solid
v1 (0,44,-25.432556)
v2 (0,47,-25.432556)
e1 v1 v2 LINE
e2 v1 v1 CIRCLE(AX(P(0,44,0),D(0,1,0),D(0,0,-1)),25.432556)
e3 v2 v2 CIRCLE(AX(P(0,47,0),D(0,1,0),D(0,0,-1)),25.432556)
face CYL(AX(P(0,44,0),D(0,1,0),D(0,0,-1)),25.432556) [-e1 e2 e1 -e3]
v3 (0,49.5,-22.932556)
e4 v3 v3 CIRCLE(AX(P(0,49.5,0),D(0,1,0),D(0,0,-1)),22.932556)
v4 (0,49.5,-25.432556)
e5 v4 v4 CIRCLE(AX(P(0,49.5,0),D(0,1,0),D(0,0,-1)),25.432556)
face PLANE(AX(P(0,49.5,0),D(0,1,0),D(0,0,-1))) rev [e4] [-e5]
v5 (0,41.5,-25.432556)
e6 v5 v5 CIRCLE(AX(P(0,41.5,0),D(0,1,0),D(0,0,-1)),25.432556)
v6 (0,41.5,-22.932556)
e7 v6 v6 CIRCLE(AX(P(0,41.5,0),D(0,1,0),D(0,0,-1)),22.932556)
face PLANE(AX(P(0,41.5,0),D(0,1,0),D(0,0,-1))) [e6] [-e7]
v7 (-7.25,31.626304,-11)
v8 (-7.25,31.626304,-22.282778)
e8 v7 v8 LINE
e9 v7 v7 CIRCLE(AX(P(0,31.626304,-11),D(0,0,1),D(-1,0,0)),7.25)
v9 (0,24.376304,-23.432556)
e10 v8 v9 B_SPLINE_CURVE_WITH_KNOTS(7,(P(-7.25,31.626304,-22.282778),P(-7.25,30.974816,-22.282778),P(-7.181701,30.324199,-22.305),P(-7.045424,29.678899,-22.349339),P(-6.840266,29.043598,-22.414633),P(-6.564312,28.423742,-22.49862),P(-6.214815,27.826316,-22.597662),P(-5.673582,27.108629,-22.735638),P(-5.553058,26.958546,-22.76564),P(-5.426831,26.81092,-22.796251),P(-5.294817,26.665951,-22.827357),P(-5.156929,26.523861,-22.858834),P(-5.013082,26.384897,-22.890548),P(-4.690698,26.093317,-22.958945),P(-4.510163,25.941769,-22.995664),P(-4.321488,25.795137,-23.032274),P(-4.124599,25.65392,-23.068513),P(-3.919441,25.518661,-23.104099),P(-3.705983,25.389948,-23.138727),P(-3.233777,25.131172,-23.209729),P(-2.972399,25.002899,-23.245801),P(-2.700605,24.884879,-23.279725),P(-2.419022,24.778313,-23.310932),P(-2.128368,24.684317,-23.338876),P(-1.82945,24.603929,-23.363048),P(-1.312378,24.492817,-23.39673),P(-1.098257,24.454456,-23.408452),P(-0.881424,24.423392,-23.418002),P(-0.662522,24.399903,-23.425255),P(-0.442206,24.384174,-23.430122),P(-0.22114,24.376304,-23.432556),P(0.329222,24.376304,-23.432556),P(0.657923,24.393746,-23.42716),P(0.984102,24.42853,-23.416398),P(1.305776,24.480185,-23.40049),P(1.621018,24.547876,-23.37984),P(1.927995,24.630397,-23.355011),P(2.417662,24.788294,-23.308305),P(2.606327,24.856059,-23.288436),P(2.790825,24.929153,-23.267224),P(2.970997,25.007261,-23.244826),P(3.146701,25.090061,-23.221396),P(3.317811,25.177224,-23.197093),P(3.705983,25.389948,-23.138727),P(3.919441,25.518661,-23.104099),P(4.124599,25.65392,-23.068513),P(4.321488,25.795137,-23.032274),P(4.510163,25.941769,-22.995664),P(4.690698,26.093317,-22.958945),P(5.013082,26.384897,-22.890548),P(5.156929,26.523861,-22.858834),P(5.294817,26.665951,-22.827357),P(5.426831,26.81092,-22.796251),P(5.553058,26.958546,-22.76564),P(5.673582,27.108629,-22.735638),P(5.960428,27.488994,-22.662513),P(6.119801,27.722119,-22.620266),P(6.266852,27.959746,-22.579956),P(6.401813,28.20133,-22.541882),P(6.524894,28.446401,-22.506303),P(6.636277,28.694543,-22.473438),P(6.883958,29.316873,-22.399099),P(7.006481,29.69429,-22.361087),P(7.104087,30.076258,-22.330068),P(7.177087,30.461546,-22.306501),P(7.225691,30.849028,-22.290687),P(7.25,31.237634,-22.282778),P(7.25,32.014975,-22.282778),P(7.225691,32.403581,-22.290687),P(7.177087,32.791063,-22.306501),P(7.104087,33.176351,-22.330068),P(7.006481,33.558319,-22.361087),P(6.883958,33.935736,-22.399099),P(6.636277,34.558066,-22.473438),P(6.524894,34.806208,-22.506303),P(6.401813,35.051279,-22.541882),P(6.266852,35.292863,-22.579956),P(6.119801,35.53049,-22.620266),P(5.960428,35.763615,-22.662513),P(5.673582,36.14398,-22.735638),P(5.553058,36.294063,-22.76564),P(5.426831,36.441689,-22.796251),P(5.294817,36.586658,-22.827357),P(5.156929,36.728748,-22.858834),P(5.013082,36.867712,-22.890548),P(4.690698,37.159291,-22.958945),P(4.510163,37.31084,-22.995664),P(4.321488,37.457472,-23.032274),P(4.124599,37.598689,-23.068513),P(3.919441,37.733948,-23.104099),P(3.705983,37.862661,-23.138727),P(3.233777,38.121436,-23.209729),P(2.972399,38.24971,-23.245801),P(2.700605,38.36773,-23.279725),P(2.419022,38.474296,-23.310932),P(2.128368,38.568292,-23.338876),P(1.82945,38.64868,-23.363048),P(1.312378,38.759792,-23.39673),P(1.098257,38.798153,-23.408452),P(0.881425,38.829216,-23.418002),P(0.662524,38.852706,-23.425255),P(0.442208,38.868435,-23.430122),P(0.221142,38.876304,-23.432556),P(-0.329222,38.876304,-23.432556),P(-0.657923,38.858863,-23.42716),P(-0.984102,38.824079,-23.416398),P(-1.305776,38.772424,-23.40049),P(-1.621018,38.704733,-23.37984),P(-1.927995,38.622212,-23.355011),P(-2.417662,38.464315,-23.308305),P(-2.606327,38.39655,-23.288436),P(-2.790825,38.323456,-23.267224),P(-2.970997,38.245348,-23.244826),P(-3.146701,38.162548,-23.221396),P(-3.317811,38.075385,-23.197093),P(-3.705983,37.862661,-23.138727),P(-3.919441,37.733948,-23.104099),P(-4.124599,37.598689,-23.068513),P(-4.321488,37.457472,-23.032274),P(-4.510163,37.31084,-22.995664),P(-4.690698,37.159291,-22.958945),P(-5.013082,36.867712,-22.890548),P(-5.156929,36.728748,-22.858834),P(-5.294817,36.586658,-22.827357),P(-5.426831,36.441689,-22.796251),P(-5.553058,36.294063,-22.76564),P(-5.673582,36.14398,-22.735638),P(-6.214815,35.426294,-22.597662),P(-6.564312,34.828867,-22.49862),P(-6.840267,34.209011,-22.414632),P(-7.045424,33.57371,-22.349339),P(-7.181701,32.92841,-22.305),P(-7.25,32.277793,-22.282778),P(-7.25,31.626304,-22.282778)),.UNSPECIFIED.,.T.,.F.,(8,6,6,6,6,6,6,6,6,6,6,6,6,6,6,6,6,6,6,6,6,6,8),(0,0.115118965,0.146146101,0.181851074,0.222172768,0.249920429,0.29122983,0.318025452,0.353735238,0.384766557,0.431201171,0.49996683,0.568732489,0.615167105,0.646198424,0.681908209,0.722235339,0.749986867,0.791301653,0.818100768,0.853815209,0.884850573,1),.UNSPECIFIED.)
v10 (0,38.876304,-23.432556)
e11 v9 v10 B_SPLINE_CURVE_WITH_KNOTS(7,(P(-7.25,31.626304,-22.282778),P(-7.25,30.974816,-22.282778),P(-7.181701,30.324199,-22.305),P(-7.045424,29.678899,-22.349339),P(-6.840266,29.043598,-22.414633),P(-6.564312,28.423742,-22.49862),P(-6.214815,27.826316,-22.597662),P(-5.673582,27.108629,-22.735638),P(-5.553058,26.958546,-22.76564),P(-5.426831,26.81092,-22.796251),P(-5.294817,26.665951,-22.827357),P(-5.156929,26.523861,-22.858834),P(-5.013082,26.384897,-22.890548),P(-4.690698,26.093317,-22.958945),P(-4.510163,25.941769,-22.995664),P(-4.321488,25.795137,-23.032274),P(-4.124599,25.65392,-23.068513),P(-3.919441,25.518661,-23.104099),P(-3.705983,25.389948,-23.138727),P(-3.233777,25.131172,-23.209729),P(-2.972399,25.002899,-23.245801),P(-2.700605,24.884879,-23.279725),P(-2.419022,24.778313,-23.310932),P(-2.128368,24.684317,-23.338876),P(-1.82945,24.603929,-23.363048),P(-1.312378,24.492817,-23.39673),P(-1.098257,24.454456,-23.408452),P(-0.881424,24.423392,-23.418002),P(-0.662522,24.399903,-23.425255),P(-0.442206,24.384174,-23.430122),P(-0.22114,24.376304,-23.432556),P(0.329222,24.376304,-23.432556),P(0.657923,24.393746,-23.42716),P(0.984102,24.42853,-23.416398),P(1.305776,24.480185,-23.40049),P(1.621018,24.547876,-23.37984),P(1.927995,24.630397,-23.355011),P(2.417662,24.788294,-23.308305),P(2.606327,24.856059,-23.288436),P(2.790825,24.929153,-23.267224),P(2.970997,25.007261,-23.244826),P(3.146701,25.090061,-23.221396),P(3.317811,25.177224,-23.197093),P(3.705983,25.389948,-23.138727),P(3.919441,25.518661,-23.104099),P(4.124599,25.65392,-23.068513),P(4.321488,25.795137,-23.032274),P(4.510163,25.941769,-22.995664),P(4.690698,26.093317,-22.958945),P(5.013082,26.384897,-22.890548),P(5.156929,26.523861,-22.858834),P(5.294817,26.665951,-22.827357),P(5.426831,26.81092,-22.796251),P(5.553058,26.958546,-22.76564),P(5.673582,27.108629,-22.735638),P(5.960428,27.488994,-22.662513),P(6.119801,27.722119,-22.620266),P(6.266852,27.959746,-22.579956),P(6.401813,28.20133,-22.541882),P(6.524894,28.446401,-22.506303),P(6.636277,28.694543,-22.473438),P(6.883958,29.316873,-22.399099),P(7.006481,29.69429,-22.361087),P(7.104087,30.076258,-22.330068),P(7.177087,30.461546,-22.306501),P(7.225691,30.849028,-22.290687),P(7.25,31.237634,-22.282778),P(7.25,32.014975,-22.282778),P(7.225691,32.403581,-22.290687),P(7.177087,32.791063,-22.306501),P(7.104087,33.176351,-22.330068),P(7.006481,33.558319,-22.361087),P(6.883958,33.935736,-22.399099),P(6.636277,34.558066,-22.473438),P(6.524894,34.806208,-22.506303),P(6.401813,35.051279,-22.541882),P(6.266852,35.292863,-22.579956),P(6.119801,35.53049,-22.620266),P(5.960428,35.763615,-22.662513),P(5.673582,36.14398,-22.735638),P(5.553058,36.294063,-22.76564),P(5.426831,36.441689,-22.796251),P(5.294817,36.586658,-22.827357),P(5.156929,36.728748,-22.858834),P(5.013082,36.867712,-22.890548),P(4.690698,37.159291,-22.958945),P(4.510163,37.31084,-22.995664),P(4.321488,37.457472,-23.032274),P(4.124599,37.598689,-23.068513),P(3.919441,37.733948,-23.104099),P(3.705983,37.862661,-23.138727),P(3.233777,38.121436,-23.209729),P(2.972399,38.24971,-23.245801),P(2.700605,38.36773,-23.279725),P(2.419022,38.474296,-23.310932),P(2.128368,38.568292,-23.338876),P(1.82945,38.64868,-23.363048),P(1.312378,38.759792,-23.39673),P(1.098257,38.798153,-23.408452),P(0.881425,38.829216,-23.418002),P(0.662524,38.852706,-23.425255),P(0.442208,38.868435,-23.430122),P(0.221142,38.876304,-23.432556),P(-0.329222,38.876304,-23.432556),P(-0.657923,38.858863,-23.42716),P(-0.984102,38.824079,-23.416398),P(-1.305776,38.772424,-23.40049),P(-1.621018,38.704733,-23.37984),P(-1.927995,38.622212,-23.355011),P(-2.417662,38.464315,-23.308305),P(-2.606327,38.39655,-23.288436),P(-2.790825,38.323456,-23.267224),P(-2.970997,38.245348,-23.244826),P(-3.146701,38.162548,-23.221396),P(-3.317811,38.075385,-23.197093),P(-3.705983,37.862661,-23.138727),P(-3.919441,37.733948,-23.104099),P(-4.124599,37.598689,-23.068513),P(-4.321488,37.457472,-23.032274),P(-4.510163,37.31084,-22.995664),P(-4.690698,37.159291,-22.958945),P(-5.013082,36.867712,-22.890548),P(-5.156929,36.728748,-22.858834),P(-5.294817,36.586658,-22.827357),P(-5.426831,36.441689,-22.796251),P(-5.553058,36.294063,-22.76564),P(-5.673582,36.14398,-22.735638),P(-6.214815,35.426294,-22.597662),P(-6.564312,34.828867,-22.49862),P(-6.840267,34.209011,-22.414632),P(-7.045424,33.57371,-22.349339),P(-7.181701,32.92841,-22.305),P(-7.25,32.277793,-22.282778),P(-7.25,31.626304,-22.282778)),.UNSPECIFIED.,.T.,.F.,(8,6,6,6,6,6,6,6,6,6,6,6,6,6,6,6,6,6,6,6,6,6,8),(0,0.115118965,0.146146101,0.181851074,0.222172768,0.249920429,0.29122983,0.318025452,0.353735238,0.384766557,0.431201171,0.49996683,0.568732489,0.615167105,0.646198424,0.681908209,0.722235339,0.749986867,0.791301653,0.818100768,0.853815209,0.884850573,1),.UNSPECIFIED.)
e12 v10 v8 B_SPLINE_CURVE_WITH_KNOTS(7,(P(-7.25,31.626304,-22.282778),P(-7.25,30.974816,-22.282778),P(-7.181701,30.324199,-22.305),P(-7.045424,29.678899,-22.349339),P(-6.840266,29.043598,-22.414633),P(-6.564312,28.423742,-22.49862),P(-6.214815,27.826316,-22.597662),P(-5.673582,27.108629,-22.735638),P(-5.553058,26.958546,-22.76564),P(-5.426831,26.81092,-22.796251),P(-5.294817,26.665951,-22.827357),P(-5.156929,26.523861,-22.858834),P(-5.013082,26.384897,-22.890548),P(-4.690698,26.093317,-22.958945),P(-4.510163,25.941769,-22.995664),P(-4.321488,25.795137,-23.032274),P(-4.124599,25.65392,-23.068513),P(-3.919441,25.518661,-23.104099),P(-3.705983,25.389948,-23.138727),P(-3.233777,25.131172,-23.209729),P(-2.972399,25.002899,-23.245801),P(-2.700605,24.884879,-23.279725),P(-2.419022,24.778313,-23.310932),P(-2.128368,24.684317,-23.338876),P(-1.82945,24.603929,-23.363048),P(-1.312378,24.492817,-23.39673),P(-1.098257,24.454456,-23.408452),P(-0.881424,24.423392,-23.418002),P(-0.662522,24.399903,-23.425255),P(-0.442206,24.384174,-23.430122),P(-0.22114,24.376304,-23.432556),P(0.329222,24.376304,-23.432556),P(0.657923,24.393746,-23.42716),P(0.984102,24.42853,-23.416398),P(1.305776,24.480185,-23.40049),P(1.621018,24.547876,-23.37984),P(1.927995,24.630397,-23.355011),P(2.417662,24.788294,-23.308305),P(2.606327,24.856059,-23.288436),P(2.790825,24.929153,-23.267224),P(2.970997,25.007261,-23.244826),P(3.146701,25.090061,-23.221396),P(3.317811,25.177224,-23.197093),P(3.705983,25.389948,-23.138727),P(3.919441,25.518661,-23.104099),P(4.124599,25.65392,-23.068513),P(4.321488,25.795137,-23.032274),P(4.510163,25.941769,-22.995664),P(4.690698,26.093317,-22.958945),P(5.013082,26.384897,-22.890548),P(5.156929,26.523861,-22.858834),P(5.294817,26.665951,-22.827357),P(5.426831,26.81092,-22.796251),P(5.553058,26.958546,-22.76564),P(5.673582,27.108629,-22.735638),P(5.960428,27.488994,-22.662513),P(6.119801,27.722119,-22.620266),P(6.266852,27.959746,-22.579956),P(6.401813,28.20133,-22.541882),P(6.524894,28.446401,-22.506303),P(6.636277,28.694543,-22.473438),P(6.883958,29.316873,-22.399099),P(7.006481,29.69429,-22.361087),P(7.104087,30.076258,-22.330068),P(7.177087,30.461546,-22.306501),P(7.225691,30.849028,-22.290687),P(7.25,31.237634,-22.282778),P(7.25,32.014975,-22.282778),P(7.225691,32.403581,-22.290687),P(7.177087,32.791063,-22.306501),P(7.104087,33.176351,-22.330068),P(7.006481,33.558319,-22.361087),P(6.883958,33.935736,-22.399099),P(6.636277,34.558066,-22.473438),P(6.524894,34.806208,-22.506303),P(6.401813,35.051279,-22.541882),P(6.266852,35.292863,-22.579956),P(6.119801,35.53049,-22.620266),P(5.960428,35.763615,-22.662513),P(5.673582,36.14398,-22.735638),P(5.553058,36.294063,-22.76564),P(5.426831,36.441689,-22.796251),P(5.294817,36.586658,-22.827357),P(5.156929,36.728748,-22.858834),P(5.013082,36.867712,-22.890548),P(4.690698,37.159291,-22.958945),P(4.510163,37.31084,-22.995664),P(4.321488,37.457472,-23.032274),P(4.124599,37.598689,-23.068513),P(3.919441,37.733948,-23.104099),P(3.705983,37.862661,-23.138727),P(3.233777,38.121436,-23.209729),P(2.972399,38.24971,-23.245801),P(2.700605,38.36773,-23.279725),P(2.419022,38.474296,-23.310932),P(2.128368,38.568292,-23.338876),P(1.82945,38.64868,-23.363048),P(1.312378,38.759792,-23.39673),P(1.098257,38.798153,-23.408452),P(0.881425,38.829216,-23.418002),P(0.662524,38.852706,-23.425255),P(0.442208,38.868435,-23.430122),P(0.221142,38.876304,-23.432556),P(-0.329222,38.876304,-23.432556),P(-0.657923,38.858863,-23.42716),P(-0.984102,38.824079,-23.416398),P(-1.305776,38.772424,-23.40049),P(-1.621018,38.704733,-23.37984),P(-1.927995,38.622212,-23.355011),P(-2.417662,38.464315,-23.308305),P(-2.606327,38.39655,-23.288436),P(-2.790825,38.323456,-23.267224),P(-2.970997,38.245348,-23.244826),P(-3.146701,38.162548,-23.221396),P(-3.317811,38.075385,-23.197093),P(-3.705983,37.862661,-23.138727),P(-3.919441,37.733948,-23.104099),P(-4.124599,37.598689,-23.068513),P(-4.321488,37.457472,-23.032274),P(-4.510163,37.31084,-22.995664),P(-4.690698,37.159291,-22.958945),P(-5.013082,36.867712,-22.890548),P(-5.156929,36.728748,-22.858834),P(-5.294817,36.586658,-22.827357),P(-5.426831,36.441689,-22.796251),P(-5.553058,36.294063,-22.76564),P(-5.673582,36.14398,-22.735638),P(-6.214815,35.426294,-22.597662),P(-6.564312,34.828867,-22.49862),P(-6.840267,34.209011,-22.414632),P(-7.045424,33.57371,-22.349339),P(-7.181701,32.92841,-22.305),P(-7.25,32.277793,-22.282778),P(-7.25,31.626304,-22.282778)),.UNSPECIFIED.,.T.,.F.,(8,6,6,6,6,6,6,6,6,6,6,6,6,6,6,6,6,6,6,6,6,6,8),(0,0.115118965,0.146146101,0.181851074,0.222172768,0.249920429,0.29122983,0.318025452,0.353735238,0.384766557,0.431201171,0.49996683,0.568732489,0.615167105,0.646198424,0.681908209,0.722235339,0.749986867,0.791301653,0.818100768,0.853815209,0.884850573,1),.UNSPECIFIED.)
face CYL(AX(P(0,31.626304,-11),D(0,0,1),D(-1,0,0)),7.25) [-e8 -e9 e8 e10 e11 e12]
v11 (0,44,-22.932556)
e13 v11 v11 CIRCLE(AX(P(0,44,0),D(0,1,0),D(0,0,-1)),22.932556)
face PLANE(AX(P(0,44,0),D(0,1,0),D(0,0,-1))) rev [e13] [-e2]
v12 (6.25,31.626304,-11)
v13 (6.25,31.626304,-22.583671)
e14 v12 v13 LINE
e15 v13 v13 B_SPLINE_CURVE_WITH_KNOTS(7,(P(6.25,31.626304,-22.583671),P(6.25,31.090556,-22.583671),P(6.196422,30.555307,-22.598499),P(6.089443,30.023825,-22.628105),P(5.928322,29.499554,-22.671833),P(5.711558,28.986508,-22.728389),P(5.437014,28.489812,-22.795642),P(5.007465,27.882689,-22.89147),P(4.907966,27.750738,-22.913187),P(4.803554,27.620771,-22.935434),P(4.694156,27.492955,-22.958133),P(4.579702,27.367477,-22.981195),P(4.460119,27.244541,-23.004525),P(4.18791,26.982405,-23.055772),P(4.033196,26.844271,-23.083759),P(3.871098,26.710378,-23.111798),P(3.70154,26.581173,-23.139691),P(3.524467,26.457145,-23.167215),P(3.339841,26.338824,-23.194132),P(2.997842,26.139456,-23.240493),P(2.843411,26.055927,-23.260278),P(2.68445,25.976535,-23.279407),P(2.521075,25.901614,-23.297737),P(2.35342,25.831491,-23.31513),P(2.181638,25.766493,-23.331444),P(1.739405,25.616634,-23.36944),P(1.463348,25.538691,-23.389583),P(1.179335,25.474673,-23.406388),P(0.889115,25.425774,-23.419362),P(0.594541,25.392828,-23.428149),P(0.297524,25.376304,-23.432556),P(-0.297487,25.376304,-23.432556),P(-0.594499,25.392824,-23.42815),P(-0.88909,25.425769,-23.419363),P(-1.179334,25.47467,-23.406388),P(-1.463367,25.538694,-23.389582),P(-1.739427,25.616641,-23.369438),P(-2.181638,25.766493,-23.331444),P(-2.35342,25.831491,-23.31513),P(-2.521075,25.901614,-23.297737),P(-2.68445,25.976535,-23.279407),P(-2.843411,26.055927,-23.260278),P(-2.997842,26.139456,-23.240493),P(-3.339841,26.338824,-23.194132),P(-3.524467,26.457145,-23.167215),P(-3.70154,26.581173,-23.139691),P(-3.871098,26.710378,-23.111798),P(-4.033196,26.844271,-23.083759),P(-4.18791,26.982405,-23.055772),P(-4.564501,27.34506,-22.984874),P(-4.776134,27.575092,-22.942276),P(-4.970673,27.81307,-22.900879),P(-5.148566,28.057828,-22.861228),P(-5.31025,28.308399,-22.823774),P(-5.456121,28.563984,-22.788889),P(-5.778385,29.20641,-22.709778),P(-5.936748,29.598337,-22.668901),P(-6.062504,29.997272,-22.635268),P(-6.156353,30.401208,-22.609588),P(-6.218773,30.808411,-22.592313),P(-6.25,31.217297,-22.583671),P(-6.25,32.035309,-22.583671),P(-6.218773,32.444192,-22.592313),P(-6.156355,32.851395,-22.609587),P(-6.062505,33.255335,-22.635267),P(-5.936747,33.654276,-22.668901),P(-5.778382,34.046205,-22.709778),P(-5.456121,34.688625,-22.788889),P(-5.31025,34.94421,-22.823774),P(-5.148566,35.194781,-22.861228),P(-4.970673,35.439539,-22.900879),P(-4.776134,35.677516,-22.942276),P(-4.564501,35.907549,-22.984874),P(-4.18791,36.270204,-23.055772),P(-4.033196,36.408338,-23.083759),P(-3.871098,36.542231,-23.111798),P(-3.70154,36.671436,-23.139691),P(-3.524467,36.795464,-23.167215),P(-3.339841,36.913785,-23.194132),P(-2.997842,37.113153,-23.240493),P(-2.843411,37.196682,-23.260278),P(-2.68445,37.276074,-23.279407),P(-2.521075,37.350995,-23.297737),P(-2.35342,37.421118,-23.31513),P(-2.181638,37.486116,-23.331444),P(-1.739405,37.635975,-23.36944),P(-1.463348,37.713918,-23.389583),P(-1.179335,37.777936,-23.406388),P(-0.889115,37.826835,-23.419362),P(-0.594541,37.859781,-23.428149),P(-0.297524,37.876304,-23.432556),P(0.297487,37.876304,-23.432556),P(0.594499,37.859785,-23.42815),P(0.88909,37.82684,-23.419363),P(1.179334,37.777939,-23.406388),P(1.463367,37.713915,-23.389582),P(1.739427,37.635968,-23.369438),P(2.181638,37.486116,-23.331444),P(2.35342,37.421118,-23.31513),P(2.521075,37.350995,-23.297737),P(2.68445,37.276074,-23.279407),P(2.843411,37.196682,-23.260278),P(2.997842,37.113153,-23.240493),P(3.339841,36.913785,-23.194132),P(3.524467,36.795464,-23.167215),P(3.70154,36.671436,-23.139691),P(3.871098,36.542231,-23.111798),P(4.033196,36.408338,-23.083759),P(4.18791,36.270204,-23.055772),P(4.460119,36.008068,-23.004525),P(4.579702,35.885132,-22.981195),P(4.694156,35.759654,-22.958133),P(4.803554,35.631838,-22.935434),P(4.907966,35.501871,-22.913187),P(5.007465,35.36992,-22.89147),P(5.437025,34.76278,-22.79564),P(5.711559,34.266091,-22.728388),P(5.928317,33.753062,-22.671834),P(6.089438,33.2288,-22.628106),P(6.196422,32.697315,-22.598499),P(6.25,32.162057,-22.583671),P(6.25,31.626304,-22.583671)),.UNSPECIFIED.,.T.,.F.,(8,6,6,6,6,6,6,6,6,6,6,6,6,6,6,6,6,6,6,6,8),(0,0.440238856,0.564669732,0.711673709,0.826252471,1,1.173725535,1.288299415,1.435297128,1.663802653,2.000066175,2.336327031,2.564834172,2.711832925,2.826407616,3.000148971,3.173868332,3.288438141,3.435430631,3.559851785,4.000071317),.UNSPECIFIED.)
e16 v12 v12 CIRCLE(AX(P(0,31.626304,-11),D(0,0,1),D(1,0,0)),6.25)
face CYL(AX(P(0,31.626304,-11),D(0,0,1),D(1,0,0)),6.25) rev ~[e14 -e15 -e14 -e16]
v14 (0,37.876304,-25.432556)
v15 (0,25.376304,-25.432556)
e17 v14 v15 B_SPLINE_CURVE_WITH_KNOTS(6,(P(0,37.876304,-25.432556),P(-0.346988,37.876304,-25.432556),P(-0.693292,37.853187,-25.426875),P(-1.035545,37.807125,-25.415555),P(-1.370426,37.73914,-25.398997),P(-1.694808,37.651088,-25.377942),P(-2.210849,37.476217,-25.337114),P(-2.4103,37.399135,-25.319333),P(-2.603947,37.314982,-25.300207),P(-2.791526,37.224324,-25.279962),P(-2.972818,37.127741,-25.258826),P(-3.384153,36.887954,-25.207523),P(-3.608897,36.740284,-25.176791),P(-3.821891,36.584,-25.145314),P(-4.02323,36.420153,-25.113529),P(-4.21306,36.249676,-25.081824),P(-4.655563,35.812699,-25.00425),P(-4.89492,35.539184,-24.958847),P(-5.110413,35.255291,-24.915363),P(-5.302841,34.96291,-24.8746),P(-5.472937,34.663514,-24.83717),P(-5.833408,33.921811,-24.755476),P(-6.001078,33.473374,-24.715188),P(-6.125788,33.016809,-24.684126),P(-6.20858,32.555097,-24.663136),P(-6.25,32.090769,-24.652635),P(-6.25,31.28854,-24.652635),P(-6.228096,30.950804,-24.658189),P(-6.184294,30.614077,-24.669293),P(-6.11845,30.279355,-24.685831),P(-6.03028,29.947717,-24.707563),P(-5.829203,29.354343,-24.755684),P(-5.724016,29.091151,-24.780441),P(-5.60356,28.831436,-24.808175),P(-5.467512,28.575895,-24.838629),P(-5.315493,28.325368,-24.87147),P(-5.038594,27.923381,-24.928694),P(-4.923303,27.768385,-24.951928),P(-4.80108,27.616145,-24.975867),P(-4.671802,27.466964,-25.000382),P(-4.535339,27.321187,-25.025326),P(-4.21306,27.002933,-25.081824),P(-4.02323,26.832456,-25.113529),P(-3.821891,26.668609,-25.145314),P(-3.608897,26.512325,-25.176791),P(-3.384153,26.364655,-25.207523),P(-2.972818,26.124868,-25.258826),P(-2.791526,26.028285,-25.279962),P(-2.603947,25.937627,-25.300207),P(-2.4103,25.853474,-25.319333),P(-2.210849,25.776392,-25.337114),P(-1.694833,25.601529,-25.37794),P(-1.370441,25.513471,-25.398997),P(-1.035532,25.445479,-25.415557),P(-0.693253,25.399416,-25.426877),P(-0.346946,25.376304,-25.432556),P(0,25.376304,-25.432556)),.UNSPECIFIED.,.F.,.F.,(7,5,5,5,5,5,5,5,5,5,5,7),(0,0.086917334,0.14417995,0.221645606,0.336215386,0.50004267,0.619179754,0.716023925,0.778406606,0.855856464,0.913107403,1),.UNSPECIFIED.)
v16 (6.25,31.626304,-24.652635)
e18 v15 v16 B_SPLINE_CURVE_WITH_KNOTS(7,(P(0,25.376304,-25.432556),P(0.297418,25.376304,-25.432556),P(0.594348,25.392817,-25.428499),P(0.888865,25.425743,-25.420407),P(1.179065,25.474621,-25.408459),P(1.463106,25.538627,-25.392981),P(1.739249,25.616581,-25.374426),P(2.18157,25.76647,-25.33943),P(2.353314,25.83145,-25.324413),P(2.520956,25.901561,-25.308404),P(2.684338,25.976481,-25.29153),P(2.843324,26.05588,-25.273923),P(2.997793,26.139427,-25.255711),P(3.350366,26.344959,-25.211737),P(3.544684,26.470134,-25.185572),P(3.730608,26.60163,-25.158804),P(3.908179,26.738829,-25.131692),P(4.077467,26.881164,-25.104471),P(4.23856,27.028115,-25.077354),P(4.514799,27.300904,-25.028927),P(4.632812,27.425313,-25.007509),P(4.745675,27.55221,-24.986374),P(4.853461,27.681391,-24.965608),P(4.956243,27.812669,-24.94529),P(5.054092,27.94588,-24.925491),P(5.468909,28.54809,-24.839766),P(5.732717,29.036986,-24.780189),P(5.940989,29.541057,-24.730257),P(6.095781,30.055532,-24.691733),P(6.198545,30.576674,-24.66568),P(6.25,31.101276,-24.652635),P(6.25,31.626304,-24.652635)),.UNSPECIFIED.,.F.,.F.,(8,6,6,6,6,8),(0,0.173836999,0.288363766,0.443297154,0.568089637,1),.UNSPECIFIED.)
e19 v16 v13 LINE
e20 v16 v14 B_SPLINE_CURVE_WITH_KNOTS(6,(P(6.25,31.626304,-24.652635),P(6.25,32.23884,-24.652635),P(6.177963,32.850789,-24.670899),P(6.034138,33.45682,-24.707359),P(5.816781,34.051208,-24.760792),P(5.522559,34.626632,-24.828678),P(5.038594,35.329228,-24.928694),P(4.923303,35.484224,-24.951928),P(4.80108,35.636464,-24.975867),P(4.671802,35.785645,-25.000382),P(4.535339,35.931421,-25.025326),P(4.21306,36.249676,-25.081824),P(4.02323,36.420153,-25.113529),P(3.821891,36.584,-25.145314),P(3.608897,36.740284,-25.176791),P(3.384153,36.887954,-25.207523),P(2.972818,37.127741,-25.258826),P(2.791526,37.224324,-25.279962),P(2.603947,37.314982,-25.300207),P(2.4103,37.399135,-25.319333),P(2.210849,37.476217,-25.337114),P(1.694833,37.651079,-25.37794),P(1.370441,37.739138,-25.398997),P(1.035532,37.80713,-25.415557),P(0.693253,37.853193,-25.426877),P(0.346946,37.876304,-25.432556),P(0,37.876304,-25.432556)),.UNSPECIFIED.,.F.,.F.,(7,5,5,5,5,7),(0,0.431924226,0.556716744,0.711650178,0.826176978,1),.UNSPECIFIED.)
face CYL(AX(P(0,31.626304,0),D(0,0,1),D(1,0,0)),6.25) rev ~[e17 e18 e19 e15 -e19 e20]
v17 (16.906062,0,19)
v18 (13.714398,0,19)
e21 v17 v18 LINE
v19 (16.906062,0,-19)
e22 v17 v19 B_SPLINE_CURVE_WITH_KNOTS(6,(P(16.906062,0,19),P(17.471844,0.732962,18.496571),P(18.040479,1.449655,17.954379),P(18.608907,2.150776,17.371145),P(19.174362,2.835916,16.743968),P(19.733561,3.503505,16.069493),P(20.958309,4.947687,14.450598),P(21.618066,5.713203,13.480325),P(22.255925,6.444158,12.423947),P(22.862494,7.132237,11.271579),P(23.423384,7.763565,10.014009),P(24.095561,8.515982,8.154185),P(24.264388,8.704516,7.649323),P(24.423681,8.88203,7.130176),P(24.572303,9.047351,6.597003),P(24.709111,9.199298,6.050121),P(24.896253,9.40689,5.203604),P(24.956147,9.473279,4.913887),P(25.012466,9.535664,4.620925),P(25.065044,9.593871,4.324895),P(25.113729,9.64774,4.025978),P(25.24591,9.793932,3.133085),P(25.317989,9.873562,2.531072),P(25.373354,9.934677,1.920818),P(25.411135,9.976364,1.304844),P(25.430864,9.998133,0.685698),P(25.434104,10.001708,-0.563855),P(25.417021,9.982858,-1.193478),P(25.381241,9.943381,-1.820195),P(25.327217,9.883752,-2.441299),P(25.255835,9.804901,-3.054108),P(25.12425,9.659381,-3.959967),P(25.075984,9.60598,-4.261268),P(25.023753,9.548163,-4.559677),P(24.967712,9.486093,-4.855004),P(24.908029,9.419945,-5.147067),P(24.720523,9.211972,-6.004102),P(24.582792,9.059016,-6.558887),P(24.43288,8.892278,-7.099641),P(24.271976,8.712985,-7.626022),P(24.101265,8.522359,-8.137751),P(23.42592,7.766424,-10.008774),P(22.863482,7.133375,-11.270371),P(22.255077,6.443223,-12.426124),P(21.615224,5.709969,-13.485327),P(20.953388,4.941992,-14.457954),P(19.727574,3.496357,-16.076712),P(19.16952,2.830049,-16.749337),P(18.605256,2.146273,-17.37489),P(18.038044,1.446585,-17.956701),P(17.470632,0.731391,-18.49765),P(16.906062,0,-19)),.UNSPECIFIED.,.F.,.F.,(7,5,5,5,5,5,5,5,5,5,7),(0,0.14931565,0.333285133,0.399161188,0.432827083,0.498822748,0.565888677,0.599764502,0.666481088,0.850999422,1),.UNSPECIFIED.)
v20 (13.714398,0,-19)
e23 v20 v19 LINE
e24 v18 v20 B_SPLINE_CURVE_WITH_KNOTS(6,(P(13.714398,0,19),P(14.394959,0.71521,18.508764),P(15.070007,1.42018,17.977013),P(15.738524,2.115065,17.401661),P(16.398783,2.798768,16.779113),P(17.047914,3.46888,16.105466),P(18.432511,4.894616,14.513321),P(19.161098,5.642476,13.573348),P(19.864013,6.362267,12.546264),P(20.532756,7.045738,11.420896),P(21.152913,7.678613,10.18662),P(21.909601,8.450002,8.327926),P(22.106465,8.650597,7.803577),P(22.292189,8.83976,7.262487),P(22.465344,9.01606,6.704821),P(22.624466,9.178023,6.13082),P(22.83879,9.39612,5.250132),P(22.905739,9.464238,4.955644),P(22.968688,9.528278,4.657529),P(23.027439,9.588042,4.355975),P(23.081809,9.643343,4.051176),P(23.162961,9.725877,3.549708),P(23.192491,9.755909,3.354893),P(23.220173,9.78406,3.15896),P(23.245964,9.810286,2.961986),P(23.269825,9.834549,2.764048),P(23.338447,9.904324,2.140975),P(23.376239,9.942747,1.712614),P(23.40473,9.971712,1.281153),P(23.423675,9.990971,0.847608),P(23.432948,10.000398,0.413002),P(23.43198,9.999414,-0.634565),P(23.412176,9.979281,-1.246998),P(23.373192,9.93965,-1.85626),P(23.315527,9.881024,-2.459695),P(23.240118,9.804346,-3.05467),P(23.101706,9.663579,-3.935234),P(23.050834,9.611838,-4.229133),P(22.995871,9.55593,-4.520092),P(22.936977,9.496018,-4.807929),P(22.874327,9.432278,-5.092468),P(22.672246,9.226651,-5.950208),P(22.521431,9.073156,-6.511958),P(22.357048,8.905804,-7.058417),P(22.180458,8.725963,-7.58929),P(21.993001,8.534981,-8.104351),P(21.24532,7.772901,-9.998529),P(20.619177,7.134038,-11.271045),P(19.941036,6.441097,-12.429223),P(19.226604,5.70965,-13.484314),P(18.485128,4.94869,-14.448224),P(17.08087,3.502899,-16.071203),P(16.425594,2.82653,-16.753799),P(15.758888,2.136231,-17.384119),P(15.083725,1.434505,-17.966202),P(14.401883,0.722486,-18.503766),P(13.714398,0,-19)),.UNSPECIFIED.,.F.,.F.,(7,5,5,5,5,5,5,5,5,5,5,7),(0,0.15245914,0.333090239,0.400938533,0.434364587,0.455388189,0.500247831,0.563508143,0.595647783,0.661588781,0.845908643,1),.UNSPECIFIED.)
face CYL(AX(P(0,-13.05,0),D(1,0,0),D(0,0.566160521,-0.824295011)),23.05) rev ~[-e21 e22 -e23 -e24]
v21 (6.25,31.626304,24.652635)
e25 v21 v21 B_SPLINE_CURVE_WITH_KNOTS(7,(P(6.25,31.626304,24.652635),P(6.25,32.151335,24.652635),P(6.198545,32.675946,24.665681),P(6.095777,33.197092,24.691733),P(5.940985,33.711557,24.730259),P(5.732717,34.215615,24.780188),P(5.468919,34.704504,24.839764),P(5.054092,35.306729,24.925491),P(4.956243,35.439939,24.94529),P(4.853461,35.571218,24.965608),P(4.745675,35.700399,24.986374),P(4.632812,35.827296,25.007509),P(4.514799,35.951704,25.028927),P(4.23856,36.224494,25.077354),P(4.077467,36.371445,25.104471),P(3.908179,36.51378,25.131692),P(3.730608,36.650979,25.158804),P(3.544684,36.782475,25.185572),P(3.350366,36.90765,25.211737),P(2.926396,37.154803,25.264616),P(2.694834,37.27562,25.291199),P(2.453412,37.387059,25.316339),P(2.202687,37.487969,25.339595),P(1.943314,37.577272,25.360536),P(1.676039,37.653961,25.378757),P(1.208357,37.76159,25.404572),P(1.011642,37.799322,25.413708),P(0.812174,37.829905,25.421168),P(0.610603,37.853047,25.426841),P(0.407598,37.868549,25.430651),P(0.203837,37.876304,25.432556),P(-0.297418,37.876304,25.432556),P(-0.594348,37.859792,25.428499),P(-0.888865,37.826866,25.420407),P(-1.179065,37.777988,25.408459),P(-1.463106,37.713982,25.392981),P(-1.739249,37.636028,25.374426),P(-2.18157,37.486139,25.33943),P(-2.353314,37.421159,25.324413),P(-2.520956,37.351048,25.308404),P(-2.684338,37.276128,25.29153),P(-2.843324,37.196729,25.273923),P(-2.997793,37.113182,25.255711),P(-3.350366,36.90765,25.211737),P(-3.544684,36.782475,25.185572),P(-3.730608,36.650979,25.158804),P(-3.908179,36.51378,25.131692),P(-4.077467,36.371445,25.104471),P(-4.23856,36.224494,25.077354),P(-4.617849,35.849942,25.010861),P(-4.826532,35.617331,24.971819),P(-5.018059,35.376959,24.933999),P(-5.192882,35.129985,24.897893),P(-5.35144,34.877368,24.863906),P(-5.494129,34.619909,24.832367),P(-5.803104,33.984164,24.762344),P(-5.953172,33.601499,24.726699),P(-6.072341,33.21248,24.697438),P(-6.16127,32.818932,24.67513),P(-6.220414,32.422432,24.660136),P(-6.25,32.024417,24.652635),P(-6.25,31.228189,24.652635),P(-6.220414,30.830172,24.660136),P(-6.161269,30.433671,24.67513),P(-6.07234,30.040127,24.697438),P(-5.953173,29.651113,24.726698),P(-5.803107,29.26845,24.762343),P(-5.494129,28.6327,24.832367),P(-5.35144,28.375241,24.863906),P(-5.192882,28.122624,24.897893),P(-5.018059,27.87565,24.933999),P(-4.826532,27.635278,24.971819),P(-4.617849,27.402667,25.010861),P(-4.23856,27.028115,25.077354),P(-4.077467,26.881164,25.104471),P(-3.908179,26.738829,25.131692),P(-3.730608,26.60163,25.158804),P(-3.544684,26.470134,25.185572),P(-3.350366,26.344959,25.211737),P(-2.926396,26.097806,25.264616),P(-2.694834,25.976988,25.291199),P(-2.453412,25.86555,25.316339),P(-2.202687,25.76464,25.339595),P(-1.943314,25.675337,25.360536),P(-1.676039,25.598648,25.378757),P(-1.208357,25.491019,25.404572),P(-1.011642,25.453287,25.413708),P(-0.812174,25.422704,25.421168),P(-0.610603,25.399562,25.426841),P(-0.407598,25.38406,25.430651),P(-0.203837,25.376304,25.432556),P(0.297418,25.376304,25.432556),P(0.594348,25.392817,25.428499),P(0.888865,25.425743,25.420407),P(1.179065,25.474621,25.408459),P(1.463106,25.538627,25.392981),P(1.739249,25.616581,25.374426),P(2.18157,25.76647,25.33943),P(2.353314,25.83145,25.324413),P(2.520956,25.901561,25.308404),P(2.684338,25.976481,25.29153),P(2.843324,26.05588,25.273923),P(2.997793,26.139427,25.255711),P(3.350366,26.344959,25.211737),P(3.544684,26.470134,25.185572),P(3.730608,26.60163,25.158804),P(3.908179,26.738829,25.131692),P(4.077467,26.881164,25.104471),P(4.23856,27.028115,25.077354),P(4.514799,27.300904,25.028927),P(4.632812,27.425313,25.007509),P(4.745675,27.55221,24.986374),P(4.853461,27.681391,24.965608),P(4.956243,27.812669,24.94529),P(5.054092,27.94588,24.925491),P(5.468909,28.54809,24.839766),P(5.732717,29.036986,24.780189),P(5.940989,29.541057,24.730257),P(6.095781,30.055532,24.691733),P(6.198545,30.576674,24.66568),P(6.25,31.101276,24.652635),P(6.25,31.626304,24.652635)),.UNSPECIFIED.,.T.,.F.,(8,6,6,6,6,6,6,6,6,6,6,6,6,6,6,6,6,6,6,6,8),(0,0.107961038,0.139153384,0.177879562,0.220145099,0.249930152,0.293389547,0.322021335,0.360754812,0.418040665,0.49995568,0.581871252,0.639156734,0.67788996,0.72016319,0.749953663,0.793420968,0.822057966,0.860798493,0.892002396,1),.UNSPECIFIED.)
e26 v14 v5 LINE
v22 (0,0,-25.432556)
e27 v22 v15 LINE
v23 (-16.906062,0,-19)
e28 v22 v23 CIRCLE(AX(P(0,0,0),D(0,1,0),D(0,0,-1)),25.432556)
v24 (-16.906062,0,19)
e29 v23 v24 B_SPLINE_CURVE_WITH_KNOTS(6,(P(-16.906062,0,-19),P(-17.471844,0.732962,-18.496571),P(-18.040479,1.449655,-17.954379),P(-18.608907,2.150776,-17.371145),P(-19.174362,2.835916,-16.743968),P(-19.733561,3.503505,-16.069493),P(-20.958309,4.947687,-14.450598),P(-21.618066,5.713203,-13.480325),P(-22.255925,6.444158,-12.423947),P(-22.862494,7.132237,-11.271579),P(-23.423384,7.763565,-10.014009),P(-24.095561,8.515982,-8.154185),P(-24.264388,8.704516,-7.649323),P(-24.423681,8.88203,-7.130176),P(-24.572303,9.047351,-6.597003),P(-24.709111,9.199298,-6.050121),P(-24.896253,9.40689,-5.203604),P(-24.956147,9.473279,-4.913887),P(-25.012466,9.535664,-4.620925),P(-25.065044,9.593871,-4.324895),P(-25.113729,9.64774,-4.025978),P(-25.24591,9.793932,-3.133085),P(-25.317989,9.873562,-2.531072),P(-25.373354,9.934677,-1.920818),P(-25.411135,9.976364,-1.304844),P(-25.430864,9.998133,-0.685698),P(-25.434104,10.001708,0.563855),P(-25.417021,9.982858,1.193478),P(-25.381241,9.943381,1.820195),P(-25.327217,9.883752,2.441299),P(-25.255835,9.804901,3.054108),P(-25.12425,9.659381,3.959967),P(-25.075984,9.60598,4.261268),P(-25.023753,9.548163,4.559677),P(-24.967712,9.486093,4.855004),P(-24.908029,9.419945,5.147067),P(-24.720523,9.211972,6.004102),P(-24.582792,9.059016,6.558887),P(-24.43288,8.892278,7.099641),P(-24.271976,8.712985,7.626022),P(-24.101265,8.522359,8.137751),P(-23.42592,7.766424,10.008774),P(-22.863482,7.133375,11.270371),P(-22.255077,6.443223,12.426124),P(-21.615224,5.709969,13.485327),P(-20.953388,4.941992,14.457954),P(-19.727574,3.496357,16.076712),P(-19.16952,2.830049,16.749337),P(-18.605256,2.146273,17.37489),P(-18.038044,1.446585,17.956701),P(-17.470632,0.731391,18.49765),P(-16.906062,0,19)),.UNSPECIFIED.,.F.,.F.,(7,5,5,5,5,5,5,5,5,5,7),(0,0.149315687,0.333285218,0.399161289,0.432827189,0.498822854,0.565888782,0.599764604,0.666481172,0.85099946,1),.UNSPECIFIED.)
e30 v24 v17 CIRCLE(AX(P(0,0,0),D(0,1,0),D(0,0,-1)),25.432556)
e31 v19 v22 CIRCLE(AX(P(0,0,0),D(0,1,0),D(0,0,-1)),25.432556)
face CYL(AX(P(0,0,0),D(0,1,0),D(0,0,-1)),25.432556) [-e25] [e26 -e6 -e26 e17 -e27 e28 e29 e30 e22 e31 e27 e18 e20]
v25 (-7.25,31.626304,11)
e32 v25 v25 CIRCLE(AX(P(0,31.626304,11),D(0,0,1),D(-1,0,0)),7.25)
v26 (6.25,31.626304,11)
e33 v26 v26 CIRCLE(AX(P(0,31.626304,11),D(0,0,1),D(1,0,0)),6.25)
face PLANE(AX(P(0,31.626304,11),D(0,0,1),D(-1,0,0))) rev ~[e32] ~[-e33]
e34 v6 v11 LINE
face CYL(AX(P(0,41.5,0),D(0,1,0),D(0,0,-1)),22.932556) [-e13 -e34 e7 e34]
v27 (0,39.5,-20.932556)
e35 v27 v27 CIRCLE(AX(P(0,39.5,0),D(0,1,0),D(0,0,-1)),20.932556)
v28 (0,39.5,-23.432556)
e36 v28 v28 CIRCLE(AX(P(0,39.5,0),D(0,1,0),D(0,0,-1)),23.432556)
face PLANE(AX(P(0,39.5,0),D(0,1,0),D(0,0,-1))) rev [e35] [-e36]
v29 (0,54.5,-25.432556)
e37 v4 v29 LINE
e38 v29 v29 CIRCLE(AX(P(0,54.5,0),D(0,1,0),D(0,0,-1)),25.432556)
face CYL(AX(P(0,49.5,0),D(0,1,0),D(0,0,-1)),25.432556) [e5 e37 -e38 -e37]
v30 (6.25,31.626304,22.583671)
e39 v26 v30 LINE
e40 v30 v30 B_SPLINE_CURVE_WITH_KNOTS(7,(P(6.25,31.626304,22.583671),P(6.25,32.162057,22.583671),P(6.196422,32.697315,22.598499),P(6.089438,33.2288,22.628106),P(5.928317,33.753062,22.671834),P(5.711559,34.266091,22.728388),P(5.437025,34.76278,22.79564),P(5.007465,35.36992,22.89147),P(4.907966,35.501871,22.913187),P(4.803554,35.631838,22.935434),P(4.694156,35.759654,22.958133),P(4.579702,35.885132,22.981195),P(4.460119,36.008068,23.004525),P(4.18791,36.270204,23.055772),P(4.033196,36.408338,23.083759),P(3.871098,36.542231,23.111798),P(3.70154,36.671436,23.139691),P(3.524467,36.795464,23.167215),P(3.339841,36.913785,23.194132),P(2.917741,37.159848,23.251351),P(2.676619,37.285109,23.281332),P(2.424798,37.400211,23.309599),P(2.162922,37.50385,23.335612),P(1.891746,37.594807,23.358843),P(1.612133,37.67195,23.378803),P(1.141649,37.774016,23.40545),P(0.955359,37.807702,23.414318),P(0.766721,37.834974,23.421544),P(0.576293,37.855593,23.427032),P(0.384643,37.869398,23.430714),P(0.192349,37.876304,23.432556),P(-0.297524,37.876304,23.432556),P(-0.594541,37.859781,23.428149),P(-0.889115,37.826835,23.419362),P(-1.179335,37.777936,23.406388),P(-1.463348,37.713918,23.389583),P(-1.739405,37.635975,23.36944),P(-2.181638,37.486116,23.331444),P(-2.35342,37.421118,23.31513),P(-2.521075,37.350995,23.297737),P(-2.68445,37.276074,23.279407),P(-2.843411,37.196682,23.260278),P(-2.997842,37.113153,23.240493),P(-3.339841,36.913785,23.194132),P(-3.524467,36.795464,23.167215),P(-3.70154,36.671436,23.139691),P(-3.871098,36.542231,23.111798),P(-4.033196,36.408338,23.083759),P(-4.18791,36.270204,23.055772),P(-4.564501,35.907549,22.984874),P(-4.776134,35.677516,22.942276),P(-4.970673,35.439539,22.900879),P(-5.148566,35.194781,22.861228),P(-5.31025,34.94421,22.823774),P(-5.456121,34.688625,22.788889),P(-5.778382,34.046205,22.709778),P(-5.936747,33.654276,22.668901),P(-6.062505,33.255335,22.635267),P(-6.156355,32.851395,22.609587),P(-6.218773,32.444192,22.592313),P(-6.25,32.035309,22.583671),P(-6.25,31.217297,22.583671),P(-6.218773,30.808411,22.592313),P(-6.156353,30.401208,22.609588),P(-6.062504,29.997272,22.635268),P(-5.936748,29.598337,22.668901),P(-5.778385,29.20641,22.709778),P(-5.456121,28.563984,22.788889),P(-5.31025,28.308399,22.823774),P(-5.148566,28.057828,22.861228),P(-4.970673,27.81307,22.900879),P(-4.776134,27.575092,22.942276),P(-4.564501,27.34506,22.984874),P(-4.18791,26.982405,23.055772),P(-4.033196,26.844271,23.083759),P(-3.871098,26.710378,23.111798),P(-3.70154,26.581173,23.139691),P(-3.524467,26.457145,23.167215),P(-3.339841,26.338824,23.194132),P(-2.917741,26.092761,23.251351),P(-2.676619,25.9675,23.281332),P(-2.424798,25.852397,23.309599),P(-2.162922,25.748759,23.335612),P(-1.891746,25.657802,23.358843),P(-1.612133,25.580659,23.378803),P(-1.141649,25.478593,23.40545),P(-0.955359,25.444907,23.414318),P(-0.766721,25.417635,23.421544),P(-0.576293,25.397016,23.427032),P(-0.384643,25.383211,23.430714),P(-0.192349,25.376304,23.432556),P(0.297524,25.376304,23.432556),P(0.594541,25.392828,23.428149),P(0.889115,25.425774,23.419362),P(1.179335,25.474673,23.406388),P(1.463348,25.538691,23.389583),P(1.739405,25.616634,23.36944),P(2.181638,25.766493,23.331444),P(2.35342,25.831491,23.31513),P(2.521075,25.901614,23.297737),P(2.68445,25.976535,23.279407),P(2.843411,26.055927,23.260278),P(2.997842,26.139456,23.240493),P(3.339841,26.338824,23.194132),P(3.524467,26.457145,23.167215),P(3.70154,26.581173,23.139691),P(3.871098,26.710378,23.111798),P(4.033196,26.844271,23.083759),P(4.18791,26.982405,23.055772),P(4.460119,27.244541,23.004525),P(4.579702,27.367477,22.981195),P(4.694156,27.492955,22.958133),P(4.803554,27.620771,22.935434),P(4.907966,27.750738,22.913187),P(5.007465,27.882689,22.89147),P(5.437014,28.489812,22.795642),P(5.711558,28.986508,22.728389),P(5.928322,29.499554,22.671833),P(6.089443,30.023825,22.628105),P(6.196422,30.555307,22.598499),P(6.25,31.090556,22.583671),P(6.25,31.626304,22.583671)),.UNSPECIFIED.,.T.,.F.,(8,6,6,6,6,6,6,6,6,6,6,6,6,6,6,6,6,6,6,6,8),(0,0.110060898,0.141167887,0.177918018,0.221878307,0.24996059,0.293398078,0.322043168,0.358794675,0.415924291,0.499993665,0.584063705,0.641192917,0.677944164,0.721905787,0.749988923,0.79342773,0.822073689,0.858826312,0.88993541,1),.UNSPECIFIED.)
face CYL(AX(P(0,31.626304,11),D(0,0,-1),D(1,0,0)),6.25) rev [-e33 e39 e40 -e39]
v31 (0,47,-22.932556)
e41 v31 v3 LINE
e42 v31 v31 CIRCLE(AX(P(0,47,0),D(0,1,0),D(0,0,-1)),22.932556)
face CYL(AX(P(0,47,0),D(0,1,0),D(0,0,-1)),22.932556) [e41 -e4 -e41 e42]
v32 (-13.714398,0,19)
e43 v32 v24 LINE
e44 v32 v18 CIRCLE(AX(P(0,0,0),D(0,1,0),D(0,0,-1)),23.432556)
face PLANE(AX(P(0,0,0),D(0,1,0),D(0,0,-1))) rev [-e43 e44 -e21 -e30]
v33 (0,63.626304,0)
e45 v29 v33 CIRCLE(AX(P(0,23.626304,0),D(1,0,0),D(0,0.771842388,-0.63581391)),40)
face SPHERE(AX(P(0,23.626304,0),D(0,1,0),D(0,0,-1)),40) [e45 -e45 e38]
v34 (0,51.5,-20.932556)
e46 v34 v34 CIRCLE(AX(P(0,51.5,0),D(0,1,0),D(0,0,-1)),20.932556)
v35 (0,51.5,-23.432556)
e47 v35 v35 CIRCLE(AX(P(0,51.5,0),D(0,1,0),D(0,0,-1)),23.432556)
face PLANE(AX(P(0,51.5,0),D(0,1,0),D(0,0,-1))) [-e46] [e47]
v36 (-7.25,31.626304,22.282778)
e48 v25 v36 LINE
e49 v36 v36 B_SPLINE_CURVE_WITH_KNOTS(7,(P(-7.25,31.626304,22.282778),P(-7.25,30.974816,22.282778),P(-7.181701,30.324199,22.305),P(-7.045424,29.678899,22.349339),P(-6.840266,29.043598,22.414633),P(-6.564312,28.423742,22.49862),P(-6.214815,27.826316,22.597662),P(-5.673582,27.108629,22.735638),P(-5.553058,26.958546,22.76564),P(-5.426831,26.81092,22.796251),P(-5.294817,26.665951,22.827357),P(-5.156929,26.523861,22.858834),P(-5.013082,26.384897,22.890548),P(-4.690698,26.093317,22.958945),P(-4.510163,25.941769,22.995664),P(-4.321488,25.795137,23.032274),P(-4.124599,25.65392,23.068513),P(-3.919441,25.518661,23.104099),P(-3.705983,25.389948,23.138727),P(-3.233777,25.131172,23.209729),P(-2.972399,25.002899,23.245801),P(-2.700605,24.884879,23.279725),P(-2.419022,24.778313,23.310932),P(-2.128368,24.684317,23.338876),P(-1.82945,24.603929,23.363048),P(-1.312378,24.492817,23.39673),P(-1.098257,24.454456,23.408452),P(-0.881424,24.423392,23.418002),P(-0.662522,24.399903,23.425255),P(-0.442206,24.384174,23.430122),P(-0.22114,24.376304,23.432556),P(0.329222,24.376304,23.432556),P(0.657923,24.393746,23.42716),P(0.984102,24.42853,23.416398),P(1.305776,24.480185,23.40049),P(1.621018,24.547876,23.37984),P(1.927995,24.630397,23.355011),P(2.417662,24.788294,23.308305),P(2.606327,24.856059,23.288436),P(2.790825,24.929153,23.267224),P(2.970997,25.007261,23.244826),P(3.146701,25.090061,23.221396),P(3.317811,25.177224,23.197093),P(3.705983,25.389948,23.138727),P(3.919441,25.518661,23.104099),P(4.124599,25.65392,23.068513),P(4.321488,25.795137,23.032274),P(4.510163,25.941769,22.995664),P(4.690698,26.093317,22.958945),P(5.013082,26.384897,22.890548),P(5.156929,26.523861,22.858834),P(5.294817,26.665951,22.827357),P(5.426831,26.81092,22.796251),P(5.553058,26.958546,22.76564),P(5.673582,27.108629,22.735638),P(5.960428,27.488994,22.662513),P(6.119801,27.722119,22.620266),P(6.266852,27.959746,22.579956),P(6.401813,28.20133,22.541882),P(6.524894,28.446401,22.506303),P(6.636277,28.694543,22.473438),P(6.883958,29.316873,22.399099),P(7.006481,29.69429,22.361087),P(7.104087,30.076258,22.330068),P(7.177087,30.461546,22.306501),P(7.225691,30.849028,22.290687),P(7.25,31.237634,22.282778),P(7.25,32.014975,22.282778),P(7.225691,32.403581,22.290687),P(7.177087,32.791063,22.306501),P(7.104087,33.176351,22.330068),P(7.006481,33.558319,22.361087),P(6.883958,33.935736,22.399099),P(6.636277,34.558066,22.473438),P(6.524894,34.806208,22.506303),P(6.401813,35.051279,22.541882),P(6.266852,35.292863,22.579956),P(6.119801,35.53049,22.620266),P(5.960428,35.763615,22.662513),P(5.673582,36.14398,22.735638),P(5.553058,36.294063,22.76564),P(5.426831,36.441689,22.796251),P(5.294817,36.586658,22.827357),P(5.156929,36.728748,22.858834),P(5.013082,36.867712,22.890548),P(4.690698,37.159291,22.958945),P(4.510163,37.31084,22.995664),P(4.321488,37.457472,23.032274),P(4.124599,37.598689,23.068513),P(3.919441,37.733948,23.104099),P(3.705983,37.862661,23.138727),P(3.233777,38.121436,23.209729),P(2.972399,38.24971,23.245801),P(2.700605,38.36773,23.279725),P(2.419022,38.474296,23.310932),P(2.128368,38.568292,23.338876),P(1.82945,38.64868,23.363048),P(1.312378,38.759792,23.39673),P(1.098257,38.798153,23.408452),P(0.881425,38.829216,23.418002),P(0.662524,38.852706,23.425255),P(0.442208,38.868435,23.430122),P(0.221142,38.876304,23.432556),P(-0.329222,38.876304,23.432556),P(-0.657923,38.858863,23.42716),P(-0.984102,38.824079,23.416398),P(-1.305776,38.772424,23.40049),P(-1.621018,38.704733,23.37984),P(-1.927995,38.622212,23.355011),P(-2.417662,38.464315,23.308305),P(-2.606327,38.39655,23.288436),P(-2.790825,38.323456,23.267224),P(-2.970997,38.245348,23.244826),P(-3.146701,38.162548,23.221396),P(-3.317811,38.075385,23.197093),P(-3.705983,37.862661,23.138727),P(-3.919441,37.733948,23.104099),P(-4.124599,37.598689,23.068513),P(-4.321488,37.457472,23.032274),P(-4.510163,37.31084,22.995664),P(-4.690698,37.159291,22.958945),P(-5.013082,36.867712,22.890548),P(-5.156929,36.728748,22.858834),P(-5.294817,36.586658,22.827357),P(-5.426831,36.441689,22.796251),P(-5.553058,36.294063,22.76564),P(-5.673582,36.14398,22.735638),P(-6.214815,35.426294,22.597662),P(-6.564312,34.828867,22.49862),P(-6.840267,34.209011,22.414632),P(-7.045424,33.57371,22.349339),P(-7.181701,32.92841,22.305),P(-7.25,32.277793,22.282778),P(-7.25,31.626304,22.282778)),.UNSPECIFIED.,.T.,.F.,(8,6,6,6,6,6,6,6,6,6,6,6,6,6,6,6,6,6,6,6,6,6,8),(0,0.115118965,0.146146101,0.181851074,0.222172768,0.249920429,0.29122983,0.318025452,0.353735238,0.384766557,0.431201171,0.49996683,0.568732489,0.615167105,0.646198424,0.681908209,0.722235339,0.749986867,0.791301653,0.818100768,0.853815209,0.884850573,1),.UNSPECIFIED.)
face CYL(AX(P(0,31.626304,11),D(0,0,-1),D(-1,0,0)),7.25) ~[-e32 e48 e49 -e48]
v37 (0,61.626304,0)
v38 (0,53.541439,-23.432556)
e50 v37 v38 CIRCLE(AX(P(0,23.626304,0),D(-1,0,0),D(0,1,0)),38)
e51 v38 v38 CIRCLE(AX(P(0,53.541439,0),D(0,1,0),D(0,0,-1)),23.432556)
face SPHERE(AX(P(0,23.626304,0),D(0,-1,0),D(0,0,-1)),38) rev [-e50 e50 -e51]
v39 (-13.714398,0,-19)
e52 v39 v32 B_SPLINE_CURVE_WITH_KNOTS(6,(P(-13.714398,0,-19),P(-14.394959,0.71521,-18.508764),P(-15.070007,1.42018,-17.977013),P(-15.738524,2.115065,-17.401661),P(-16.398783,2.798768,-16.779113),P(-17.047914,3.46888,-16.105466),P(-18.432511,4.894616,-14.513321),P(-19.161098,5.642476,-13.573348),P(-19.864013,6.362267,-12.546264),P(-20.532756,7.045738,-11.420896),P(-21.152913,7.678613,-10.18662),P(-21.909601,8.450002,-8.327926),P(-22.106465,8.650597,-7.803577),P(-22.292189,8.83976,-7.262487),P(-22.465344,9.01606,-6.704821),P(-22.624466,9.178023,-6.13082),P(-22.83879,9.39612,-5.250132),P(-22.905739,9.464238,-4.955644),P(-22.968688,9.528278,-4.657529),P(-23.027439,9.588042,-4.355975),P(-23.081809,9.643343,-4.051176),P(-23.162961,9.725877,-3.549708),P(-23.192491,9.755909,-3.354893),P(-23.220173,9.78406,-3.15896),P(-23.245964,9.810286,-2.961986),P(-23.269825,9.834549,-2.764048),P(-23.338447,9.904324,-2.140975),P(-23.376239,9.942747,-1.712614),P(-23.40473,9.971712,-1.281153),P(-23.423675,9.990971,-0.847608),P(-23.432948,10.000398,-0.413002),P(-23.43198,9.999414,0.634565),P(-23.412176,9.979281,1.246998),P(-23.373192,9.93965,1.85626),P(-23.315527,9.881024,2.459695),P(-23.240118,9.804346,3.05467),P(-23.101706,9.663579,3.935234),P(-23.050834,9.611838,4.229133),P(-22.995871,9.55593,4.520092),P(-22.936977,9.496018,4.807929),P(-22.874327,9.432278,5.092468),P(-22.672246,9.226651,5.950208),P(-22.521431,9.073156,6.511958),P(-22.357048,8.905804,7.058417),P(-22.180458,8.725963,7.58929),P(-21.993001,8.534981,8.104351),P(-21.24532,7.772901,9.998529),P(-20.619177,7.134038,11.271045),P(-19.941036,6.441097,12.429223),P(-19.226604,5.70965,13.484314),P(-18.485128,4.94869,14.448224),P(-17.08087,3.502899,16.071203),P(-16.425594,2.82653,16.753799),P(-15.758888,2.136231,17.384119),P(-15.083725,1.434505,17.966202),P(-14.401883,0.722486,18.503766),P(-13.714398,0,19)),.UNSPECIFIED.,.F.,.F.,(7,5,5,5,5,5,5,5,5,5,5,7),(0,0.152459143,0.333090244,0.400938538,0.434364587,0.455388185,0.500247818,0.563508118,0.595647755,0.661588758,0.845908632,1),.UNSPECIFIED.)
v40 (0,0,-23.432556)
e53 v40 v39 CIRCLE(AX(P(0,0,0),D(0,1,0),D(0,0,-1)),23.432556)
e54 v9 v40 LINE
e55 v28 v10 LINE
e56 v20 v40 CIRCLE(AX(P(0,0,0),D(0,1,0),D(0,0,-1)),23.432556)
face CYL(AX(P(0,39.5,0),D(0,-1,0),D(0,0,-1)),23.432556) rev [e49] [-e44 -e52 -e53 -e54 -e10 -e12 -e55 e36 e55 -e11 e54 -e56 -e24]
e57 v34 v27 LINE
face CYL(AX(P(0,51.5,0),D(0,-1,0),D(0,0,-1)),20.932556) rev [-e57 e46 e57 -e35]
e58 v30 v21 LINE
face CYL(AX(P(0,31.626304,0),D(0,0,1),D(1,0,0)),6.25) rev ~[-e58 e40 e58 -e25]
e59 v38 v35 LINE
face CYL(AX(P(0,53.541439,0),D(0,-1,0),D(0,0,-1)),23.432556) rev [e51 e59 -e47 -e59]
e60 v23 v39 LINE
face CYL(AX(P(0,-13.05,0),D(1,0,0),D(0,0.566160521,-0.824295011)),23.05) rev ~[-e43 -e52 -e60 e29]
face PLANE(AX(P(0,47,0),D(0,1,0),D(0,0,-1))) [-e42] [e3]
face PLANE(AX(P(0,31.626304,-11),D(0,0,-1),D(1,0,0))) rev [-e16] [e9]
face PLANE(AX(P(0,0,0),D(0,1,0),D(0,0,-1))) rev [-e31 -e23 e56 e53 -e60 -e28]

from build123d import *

# Parameters (mm, degrees)
CUT_EXTRUDE1_DEPTH       = 35
SKETCH3_R                = 6.25
CUT_EXTRUDE2_DEPTH       = 35
BOSS_EXTRUDE1_REACH      = 79.604
BOSS_EXTRUDE1_END_RADIUS = 23.432556387
SKETCH4_R                = 7.25
SKETCH4_R_2              = 6.25


with BuildPart() as part:
    # Sketch1 → Revolve1 (revolve)
    with BuildSketch(Plane.XY, mode=Mode.PRIVATE) as revolve1_sk:
        with BuildLine():
            Line((25.432556387, 0), (25.432556387, 41.5))
            Line((25.432556387, 41.5), (22.932556387, 41.5))
            Line((22.932556387, 41.5), (22.932556387, 44))
            Line((22.932556387, 44), (25.432556387, 44))
            Line((25.432556387, 44), (25.432556387, 47))
            Line((25.432556387, 47), (22.932556387, 47))
            Line((22.932556387, 47), (22.932556387, 49.5))
            Line((22.932556387, 49.5), (25.432556387, 49.5))
            Line((25.432556387, 49.5), (25.432556387, 54.5))
            ThreePointArc((25.432556387, 54.5), (13.510221664, 61.275659188), (0, 63.626304471))
            Line((0, 63.626304471), (0, 61.626304471))
            ThreePointArc((0, 61.626304471), (12.394048382, 59.548269405), (23.432556387, 53.541439456))
            Line((23.432556387, 53.541439456), (23.432556387, 51.5))
            Line((23.432556387, 51.5), (20.932556387, 51.5))
            Line((20.932556387, 51.5), (20.932556387, 45.5))
            Line((20.932556387, 45.5), (20.932556387, 39.5))
            Line((20.932556387, 39.5), (23.432556387, 39.5))
            Line((23.432556387, 39.5), (23.432556387, 0))
            Line((23.432556387, 0), (25.432556387, 0))
        make_face()
    revolve(revolve1_sk.sketch.rotate(Axis((0, 0, 0), (0, 1, 0)), 90), axis=Axis((0, 0, 0), (0, 1, 0)))

    # Sketch2 → Cut-Extrude1 (cut, symmetric)
    with BuildSketch(Plane(origin=(0, 0, 0), x_dir=(0, 0, -1), z_dir=(1, 0, 0))):
        with BuildLine():
            Line((-19, 0), (19, 0))
            ThreePointArc((19, 0), (0, 10), (-19, 0))
        make_face()
    extrude(amount=CUT_EXTRUDE1_DEPTH, both=True, mode=Mode.SUBTRACT)

    # Sketch3 → Cut-Extrude2 (cut, symmetric)
    with BuildSketch(Plane.XY):
        with Locations((0, 31.626304471)):
            Circle(SKETCH3_R)
    extrude(amount=CUT_EXTRUDE2_DEPTH, both=True, mode=Mode.SUBTRACT)

    # Boss-Extrude1: up to this cylinder (the profile starts inside it)
    boss_extrude1_end = Plane(origin=(0, 31.626304, 0), z_dir=(0, -1, 0)) * Cylinder(BOSS_EXTRUDE1_END_RADIUS, 207.073112775, mode=Mode.PRIVATE)
    # Sketch4 → Boss-Extrude1 (add, up to the surface)
    with BuildSketch(Plane.XY.offset(11), mode=Mode.PRIVATE) as boss_extrude1_sk1:
        with Locations(Location((0, 31.626304471, 0), (0, 0, 180))):
            Circle(SKETCH4_R)
        with Locations((0, 31.626304471)):
            Circle(SKETCH4_R_2, mode=Mode.SUBTRACT)
    boss_extrude1_tool1 = extrude(boss_extrude1_sk1.sketch, amount=BOSS_EXTRUDE1_REACH, mode=Mode.PRIVATE) & boss_extrude1_end
    boss_extrude1 = boss_extrude1_tool1.solids().sort_by_distance((7.044939, 31.626304, 11))[0]
    add(boss_extrude1)

    # Mirror1: Boss-Extrude1 across plane
    add(boss_extrude1.mirror(Plane.XY))


solid = part.part
